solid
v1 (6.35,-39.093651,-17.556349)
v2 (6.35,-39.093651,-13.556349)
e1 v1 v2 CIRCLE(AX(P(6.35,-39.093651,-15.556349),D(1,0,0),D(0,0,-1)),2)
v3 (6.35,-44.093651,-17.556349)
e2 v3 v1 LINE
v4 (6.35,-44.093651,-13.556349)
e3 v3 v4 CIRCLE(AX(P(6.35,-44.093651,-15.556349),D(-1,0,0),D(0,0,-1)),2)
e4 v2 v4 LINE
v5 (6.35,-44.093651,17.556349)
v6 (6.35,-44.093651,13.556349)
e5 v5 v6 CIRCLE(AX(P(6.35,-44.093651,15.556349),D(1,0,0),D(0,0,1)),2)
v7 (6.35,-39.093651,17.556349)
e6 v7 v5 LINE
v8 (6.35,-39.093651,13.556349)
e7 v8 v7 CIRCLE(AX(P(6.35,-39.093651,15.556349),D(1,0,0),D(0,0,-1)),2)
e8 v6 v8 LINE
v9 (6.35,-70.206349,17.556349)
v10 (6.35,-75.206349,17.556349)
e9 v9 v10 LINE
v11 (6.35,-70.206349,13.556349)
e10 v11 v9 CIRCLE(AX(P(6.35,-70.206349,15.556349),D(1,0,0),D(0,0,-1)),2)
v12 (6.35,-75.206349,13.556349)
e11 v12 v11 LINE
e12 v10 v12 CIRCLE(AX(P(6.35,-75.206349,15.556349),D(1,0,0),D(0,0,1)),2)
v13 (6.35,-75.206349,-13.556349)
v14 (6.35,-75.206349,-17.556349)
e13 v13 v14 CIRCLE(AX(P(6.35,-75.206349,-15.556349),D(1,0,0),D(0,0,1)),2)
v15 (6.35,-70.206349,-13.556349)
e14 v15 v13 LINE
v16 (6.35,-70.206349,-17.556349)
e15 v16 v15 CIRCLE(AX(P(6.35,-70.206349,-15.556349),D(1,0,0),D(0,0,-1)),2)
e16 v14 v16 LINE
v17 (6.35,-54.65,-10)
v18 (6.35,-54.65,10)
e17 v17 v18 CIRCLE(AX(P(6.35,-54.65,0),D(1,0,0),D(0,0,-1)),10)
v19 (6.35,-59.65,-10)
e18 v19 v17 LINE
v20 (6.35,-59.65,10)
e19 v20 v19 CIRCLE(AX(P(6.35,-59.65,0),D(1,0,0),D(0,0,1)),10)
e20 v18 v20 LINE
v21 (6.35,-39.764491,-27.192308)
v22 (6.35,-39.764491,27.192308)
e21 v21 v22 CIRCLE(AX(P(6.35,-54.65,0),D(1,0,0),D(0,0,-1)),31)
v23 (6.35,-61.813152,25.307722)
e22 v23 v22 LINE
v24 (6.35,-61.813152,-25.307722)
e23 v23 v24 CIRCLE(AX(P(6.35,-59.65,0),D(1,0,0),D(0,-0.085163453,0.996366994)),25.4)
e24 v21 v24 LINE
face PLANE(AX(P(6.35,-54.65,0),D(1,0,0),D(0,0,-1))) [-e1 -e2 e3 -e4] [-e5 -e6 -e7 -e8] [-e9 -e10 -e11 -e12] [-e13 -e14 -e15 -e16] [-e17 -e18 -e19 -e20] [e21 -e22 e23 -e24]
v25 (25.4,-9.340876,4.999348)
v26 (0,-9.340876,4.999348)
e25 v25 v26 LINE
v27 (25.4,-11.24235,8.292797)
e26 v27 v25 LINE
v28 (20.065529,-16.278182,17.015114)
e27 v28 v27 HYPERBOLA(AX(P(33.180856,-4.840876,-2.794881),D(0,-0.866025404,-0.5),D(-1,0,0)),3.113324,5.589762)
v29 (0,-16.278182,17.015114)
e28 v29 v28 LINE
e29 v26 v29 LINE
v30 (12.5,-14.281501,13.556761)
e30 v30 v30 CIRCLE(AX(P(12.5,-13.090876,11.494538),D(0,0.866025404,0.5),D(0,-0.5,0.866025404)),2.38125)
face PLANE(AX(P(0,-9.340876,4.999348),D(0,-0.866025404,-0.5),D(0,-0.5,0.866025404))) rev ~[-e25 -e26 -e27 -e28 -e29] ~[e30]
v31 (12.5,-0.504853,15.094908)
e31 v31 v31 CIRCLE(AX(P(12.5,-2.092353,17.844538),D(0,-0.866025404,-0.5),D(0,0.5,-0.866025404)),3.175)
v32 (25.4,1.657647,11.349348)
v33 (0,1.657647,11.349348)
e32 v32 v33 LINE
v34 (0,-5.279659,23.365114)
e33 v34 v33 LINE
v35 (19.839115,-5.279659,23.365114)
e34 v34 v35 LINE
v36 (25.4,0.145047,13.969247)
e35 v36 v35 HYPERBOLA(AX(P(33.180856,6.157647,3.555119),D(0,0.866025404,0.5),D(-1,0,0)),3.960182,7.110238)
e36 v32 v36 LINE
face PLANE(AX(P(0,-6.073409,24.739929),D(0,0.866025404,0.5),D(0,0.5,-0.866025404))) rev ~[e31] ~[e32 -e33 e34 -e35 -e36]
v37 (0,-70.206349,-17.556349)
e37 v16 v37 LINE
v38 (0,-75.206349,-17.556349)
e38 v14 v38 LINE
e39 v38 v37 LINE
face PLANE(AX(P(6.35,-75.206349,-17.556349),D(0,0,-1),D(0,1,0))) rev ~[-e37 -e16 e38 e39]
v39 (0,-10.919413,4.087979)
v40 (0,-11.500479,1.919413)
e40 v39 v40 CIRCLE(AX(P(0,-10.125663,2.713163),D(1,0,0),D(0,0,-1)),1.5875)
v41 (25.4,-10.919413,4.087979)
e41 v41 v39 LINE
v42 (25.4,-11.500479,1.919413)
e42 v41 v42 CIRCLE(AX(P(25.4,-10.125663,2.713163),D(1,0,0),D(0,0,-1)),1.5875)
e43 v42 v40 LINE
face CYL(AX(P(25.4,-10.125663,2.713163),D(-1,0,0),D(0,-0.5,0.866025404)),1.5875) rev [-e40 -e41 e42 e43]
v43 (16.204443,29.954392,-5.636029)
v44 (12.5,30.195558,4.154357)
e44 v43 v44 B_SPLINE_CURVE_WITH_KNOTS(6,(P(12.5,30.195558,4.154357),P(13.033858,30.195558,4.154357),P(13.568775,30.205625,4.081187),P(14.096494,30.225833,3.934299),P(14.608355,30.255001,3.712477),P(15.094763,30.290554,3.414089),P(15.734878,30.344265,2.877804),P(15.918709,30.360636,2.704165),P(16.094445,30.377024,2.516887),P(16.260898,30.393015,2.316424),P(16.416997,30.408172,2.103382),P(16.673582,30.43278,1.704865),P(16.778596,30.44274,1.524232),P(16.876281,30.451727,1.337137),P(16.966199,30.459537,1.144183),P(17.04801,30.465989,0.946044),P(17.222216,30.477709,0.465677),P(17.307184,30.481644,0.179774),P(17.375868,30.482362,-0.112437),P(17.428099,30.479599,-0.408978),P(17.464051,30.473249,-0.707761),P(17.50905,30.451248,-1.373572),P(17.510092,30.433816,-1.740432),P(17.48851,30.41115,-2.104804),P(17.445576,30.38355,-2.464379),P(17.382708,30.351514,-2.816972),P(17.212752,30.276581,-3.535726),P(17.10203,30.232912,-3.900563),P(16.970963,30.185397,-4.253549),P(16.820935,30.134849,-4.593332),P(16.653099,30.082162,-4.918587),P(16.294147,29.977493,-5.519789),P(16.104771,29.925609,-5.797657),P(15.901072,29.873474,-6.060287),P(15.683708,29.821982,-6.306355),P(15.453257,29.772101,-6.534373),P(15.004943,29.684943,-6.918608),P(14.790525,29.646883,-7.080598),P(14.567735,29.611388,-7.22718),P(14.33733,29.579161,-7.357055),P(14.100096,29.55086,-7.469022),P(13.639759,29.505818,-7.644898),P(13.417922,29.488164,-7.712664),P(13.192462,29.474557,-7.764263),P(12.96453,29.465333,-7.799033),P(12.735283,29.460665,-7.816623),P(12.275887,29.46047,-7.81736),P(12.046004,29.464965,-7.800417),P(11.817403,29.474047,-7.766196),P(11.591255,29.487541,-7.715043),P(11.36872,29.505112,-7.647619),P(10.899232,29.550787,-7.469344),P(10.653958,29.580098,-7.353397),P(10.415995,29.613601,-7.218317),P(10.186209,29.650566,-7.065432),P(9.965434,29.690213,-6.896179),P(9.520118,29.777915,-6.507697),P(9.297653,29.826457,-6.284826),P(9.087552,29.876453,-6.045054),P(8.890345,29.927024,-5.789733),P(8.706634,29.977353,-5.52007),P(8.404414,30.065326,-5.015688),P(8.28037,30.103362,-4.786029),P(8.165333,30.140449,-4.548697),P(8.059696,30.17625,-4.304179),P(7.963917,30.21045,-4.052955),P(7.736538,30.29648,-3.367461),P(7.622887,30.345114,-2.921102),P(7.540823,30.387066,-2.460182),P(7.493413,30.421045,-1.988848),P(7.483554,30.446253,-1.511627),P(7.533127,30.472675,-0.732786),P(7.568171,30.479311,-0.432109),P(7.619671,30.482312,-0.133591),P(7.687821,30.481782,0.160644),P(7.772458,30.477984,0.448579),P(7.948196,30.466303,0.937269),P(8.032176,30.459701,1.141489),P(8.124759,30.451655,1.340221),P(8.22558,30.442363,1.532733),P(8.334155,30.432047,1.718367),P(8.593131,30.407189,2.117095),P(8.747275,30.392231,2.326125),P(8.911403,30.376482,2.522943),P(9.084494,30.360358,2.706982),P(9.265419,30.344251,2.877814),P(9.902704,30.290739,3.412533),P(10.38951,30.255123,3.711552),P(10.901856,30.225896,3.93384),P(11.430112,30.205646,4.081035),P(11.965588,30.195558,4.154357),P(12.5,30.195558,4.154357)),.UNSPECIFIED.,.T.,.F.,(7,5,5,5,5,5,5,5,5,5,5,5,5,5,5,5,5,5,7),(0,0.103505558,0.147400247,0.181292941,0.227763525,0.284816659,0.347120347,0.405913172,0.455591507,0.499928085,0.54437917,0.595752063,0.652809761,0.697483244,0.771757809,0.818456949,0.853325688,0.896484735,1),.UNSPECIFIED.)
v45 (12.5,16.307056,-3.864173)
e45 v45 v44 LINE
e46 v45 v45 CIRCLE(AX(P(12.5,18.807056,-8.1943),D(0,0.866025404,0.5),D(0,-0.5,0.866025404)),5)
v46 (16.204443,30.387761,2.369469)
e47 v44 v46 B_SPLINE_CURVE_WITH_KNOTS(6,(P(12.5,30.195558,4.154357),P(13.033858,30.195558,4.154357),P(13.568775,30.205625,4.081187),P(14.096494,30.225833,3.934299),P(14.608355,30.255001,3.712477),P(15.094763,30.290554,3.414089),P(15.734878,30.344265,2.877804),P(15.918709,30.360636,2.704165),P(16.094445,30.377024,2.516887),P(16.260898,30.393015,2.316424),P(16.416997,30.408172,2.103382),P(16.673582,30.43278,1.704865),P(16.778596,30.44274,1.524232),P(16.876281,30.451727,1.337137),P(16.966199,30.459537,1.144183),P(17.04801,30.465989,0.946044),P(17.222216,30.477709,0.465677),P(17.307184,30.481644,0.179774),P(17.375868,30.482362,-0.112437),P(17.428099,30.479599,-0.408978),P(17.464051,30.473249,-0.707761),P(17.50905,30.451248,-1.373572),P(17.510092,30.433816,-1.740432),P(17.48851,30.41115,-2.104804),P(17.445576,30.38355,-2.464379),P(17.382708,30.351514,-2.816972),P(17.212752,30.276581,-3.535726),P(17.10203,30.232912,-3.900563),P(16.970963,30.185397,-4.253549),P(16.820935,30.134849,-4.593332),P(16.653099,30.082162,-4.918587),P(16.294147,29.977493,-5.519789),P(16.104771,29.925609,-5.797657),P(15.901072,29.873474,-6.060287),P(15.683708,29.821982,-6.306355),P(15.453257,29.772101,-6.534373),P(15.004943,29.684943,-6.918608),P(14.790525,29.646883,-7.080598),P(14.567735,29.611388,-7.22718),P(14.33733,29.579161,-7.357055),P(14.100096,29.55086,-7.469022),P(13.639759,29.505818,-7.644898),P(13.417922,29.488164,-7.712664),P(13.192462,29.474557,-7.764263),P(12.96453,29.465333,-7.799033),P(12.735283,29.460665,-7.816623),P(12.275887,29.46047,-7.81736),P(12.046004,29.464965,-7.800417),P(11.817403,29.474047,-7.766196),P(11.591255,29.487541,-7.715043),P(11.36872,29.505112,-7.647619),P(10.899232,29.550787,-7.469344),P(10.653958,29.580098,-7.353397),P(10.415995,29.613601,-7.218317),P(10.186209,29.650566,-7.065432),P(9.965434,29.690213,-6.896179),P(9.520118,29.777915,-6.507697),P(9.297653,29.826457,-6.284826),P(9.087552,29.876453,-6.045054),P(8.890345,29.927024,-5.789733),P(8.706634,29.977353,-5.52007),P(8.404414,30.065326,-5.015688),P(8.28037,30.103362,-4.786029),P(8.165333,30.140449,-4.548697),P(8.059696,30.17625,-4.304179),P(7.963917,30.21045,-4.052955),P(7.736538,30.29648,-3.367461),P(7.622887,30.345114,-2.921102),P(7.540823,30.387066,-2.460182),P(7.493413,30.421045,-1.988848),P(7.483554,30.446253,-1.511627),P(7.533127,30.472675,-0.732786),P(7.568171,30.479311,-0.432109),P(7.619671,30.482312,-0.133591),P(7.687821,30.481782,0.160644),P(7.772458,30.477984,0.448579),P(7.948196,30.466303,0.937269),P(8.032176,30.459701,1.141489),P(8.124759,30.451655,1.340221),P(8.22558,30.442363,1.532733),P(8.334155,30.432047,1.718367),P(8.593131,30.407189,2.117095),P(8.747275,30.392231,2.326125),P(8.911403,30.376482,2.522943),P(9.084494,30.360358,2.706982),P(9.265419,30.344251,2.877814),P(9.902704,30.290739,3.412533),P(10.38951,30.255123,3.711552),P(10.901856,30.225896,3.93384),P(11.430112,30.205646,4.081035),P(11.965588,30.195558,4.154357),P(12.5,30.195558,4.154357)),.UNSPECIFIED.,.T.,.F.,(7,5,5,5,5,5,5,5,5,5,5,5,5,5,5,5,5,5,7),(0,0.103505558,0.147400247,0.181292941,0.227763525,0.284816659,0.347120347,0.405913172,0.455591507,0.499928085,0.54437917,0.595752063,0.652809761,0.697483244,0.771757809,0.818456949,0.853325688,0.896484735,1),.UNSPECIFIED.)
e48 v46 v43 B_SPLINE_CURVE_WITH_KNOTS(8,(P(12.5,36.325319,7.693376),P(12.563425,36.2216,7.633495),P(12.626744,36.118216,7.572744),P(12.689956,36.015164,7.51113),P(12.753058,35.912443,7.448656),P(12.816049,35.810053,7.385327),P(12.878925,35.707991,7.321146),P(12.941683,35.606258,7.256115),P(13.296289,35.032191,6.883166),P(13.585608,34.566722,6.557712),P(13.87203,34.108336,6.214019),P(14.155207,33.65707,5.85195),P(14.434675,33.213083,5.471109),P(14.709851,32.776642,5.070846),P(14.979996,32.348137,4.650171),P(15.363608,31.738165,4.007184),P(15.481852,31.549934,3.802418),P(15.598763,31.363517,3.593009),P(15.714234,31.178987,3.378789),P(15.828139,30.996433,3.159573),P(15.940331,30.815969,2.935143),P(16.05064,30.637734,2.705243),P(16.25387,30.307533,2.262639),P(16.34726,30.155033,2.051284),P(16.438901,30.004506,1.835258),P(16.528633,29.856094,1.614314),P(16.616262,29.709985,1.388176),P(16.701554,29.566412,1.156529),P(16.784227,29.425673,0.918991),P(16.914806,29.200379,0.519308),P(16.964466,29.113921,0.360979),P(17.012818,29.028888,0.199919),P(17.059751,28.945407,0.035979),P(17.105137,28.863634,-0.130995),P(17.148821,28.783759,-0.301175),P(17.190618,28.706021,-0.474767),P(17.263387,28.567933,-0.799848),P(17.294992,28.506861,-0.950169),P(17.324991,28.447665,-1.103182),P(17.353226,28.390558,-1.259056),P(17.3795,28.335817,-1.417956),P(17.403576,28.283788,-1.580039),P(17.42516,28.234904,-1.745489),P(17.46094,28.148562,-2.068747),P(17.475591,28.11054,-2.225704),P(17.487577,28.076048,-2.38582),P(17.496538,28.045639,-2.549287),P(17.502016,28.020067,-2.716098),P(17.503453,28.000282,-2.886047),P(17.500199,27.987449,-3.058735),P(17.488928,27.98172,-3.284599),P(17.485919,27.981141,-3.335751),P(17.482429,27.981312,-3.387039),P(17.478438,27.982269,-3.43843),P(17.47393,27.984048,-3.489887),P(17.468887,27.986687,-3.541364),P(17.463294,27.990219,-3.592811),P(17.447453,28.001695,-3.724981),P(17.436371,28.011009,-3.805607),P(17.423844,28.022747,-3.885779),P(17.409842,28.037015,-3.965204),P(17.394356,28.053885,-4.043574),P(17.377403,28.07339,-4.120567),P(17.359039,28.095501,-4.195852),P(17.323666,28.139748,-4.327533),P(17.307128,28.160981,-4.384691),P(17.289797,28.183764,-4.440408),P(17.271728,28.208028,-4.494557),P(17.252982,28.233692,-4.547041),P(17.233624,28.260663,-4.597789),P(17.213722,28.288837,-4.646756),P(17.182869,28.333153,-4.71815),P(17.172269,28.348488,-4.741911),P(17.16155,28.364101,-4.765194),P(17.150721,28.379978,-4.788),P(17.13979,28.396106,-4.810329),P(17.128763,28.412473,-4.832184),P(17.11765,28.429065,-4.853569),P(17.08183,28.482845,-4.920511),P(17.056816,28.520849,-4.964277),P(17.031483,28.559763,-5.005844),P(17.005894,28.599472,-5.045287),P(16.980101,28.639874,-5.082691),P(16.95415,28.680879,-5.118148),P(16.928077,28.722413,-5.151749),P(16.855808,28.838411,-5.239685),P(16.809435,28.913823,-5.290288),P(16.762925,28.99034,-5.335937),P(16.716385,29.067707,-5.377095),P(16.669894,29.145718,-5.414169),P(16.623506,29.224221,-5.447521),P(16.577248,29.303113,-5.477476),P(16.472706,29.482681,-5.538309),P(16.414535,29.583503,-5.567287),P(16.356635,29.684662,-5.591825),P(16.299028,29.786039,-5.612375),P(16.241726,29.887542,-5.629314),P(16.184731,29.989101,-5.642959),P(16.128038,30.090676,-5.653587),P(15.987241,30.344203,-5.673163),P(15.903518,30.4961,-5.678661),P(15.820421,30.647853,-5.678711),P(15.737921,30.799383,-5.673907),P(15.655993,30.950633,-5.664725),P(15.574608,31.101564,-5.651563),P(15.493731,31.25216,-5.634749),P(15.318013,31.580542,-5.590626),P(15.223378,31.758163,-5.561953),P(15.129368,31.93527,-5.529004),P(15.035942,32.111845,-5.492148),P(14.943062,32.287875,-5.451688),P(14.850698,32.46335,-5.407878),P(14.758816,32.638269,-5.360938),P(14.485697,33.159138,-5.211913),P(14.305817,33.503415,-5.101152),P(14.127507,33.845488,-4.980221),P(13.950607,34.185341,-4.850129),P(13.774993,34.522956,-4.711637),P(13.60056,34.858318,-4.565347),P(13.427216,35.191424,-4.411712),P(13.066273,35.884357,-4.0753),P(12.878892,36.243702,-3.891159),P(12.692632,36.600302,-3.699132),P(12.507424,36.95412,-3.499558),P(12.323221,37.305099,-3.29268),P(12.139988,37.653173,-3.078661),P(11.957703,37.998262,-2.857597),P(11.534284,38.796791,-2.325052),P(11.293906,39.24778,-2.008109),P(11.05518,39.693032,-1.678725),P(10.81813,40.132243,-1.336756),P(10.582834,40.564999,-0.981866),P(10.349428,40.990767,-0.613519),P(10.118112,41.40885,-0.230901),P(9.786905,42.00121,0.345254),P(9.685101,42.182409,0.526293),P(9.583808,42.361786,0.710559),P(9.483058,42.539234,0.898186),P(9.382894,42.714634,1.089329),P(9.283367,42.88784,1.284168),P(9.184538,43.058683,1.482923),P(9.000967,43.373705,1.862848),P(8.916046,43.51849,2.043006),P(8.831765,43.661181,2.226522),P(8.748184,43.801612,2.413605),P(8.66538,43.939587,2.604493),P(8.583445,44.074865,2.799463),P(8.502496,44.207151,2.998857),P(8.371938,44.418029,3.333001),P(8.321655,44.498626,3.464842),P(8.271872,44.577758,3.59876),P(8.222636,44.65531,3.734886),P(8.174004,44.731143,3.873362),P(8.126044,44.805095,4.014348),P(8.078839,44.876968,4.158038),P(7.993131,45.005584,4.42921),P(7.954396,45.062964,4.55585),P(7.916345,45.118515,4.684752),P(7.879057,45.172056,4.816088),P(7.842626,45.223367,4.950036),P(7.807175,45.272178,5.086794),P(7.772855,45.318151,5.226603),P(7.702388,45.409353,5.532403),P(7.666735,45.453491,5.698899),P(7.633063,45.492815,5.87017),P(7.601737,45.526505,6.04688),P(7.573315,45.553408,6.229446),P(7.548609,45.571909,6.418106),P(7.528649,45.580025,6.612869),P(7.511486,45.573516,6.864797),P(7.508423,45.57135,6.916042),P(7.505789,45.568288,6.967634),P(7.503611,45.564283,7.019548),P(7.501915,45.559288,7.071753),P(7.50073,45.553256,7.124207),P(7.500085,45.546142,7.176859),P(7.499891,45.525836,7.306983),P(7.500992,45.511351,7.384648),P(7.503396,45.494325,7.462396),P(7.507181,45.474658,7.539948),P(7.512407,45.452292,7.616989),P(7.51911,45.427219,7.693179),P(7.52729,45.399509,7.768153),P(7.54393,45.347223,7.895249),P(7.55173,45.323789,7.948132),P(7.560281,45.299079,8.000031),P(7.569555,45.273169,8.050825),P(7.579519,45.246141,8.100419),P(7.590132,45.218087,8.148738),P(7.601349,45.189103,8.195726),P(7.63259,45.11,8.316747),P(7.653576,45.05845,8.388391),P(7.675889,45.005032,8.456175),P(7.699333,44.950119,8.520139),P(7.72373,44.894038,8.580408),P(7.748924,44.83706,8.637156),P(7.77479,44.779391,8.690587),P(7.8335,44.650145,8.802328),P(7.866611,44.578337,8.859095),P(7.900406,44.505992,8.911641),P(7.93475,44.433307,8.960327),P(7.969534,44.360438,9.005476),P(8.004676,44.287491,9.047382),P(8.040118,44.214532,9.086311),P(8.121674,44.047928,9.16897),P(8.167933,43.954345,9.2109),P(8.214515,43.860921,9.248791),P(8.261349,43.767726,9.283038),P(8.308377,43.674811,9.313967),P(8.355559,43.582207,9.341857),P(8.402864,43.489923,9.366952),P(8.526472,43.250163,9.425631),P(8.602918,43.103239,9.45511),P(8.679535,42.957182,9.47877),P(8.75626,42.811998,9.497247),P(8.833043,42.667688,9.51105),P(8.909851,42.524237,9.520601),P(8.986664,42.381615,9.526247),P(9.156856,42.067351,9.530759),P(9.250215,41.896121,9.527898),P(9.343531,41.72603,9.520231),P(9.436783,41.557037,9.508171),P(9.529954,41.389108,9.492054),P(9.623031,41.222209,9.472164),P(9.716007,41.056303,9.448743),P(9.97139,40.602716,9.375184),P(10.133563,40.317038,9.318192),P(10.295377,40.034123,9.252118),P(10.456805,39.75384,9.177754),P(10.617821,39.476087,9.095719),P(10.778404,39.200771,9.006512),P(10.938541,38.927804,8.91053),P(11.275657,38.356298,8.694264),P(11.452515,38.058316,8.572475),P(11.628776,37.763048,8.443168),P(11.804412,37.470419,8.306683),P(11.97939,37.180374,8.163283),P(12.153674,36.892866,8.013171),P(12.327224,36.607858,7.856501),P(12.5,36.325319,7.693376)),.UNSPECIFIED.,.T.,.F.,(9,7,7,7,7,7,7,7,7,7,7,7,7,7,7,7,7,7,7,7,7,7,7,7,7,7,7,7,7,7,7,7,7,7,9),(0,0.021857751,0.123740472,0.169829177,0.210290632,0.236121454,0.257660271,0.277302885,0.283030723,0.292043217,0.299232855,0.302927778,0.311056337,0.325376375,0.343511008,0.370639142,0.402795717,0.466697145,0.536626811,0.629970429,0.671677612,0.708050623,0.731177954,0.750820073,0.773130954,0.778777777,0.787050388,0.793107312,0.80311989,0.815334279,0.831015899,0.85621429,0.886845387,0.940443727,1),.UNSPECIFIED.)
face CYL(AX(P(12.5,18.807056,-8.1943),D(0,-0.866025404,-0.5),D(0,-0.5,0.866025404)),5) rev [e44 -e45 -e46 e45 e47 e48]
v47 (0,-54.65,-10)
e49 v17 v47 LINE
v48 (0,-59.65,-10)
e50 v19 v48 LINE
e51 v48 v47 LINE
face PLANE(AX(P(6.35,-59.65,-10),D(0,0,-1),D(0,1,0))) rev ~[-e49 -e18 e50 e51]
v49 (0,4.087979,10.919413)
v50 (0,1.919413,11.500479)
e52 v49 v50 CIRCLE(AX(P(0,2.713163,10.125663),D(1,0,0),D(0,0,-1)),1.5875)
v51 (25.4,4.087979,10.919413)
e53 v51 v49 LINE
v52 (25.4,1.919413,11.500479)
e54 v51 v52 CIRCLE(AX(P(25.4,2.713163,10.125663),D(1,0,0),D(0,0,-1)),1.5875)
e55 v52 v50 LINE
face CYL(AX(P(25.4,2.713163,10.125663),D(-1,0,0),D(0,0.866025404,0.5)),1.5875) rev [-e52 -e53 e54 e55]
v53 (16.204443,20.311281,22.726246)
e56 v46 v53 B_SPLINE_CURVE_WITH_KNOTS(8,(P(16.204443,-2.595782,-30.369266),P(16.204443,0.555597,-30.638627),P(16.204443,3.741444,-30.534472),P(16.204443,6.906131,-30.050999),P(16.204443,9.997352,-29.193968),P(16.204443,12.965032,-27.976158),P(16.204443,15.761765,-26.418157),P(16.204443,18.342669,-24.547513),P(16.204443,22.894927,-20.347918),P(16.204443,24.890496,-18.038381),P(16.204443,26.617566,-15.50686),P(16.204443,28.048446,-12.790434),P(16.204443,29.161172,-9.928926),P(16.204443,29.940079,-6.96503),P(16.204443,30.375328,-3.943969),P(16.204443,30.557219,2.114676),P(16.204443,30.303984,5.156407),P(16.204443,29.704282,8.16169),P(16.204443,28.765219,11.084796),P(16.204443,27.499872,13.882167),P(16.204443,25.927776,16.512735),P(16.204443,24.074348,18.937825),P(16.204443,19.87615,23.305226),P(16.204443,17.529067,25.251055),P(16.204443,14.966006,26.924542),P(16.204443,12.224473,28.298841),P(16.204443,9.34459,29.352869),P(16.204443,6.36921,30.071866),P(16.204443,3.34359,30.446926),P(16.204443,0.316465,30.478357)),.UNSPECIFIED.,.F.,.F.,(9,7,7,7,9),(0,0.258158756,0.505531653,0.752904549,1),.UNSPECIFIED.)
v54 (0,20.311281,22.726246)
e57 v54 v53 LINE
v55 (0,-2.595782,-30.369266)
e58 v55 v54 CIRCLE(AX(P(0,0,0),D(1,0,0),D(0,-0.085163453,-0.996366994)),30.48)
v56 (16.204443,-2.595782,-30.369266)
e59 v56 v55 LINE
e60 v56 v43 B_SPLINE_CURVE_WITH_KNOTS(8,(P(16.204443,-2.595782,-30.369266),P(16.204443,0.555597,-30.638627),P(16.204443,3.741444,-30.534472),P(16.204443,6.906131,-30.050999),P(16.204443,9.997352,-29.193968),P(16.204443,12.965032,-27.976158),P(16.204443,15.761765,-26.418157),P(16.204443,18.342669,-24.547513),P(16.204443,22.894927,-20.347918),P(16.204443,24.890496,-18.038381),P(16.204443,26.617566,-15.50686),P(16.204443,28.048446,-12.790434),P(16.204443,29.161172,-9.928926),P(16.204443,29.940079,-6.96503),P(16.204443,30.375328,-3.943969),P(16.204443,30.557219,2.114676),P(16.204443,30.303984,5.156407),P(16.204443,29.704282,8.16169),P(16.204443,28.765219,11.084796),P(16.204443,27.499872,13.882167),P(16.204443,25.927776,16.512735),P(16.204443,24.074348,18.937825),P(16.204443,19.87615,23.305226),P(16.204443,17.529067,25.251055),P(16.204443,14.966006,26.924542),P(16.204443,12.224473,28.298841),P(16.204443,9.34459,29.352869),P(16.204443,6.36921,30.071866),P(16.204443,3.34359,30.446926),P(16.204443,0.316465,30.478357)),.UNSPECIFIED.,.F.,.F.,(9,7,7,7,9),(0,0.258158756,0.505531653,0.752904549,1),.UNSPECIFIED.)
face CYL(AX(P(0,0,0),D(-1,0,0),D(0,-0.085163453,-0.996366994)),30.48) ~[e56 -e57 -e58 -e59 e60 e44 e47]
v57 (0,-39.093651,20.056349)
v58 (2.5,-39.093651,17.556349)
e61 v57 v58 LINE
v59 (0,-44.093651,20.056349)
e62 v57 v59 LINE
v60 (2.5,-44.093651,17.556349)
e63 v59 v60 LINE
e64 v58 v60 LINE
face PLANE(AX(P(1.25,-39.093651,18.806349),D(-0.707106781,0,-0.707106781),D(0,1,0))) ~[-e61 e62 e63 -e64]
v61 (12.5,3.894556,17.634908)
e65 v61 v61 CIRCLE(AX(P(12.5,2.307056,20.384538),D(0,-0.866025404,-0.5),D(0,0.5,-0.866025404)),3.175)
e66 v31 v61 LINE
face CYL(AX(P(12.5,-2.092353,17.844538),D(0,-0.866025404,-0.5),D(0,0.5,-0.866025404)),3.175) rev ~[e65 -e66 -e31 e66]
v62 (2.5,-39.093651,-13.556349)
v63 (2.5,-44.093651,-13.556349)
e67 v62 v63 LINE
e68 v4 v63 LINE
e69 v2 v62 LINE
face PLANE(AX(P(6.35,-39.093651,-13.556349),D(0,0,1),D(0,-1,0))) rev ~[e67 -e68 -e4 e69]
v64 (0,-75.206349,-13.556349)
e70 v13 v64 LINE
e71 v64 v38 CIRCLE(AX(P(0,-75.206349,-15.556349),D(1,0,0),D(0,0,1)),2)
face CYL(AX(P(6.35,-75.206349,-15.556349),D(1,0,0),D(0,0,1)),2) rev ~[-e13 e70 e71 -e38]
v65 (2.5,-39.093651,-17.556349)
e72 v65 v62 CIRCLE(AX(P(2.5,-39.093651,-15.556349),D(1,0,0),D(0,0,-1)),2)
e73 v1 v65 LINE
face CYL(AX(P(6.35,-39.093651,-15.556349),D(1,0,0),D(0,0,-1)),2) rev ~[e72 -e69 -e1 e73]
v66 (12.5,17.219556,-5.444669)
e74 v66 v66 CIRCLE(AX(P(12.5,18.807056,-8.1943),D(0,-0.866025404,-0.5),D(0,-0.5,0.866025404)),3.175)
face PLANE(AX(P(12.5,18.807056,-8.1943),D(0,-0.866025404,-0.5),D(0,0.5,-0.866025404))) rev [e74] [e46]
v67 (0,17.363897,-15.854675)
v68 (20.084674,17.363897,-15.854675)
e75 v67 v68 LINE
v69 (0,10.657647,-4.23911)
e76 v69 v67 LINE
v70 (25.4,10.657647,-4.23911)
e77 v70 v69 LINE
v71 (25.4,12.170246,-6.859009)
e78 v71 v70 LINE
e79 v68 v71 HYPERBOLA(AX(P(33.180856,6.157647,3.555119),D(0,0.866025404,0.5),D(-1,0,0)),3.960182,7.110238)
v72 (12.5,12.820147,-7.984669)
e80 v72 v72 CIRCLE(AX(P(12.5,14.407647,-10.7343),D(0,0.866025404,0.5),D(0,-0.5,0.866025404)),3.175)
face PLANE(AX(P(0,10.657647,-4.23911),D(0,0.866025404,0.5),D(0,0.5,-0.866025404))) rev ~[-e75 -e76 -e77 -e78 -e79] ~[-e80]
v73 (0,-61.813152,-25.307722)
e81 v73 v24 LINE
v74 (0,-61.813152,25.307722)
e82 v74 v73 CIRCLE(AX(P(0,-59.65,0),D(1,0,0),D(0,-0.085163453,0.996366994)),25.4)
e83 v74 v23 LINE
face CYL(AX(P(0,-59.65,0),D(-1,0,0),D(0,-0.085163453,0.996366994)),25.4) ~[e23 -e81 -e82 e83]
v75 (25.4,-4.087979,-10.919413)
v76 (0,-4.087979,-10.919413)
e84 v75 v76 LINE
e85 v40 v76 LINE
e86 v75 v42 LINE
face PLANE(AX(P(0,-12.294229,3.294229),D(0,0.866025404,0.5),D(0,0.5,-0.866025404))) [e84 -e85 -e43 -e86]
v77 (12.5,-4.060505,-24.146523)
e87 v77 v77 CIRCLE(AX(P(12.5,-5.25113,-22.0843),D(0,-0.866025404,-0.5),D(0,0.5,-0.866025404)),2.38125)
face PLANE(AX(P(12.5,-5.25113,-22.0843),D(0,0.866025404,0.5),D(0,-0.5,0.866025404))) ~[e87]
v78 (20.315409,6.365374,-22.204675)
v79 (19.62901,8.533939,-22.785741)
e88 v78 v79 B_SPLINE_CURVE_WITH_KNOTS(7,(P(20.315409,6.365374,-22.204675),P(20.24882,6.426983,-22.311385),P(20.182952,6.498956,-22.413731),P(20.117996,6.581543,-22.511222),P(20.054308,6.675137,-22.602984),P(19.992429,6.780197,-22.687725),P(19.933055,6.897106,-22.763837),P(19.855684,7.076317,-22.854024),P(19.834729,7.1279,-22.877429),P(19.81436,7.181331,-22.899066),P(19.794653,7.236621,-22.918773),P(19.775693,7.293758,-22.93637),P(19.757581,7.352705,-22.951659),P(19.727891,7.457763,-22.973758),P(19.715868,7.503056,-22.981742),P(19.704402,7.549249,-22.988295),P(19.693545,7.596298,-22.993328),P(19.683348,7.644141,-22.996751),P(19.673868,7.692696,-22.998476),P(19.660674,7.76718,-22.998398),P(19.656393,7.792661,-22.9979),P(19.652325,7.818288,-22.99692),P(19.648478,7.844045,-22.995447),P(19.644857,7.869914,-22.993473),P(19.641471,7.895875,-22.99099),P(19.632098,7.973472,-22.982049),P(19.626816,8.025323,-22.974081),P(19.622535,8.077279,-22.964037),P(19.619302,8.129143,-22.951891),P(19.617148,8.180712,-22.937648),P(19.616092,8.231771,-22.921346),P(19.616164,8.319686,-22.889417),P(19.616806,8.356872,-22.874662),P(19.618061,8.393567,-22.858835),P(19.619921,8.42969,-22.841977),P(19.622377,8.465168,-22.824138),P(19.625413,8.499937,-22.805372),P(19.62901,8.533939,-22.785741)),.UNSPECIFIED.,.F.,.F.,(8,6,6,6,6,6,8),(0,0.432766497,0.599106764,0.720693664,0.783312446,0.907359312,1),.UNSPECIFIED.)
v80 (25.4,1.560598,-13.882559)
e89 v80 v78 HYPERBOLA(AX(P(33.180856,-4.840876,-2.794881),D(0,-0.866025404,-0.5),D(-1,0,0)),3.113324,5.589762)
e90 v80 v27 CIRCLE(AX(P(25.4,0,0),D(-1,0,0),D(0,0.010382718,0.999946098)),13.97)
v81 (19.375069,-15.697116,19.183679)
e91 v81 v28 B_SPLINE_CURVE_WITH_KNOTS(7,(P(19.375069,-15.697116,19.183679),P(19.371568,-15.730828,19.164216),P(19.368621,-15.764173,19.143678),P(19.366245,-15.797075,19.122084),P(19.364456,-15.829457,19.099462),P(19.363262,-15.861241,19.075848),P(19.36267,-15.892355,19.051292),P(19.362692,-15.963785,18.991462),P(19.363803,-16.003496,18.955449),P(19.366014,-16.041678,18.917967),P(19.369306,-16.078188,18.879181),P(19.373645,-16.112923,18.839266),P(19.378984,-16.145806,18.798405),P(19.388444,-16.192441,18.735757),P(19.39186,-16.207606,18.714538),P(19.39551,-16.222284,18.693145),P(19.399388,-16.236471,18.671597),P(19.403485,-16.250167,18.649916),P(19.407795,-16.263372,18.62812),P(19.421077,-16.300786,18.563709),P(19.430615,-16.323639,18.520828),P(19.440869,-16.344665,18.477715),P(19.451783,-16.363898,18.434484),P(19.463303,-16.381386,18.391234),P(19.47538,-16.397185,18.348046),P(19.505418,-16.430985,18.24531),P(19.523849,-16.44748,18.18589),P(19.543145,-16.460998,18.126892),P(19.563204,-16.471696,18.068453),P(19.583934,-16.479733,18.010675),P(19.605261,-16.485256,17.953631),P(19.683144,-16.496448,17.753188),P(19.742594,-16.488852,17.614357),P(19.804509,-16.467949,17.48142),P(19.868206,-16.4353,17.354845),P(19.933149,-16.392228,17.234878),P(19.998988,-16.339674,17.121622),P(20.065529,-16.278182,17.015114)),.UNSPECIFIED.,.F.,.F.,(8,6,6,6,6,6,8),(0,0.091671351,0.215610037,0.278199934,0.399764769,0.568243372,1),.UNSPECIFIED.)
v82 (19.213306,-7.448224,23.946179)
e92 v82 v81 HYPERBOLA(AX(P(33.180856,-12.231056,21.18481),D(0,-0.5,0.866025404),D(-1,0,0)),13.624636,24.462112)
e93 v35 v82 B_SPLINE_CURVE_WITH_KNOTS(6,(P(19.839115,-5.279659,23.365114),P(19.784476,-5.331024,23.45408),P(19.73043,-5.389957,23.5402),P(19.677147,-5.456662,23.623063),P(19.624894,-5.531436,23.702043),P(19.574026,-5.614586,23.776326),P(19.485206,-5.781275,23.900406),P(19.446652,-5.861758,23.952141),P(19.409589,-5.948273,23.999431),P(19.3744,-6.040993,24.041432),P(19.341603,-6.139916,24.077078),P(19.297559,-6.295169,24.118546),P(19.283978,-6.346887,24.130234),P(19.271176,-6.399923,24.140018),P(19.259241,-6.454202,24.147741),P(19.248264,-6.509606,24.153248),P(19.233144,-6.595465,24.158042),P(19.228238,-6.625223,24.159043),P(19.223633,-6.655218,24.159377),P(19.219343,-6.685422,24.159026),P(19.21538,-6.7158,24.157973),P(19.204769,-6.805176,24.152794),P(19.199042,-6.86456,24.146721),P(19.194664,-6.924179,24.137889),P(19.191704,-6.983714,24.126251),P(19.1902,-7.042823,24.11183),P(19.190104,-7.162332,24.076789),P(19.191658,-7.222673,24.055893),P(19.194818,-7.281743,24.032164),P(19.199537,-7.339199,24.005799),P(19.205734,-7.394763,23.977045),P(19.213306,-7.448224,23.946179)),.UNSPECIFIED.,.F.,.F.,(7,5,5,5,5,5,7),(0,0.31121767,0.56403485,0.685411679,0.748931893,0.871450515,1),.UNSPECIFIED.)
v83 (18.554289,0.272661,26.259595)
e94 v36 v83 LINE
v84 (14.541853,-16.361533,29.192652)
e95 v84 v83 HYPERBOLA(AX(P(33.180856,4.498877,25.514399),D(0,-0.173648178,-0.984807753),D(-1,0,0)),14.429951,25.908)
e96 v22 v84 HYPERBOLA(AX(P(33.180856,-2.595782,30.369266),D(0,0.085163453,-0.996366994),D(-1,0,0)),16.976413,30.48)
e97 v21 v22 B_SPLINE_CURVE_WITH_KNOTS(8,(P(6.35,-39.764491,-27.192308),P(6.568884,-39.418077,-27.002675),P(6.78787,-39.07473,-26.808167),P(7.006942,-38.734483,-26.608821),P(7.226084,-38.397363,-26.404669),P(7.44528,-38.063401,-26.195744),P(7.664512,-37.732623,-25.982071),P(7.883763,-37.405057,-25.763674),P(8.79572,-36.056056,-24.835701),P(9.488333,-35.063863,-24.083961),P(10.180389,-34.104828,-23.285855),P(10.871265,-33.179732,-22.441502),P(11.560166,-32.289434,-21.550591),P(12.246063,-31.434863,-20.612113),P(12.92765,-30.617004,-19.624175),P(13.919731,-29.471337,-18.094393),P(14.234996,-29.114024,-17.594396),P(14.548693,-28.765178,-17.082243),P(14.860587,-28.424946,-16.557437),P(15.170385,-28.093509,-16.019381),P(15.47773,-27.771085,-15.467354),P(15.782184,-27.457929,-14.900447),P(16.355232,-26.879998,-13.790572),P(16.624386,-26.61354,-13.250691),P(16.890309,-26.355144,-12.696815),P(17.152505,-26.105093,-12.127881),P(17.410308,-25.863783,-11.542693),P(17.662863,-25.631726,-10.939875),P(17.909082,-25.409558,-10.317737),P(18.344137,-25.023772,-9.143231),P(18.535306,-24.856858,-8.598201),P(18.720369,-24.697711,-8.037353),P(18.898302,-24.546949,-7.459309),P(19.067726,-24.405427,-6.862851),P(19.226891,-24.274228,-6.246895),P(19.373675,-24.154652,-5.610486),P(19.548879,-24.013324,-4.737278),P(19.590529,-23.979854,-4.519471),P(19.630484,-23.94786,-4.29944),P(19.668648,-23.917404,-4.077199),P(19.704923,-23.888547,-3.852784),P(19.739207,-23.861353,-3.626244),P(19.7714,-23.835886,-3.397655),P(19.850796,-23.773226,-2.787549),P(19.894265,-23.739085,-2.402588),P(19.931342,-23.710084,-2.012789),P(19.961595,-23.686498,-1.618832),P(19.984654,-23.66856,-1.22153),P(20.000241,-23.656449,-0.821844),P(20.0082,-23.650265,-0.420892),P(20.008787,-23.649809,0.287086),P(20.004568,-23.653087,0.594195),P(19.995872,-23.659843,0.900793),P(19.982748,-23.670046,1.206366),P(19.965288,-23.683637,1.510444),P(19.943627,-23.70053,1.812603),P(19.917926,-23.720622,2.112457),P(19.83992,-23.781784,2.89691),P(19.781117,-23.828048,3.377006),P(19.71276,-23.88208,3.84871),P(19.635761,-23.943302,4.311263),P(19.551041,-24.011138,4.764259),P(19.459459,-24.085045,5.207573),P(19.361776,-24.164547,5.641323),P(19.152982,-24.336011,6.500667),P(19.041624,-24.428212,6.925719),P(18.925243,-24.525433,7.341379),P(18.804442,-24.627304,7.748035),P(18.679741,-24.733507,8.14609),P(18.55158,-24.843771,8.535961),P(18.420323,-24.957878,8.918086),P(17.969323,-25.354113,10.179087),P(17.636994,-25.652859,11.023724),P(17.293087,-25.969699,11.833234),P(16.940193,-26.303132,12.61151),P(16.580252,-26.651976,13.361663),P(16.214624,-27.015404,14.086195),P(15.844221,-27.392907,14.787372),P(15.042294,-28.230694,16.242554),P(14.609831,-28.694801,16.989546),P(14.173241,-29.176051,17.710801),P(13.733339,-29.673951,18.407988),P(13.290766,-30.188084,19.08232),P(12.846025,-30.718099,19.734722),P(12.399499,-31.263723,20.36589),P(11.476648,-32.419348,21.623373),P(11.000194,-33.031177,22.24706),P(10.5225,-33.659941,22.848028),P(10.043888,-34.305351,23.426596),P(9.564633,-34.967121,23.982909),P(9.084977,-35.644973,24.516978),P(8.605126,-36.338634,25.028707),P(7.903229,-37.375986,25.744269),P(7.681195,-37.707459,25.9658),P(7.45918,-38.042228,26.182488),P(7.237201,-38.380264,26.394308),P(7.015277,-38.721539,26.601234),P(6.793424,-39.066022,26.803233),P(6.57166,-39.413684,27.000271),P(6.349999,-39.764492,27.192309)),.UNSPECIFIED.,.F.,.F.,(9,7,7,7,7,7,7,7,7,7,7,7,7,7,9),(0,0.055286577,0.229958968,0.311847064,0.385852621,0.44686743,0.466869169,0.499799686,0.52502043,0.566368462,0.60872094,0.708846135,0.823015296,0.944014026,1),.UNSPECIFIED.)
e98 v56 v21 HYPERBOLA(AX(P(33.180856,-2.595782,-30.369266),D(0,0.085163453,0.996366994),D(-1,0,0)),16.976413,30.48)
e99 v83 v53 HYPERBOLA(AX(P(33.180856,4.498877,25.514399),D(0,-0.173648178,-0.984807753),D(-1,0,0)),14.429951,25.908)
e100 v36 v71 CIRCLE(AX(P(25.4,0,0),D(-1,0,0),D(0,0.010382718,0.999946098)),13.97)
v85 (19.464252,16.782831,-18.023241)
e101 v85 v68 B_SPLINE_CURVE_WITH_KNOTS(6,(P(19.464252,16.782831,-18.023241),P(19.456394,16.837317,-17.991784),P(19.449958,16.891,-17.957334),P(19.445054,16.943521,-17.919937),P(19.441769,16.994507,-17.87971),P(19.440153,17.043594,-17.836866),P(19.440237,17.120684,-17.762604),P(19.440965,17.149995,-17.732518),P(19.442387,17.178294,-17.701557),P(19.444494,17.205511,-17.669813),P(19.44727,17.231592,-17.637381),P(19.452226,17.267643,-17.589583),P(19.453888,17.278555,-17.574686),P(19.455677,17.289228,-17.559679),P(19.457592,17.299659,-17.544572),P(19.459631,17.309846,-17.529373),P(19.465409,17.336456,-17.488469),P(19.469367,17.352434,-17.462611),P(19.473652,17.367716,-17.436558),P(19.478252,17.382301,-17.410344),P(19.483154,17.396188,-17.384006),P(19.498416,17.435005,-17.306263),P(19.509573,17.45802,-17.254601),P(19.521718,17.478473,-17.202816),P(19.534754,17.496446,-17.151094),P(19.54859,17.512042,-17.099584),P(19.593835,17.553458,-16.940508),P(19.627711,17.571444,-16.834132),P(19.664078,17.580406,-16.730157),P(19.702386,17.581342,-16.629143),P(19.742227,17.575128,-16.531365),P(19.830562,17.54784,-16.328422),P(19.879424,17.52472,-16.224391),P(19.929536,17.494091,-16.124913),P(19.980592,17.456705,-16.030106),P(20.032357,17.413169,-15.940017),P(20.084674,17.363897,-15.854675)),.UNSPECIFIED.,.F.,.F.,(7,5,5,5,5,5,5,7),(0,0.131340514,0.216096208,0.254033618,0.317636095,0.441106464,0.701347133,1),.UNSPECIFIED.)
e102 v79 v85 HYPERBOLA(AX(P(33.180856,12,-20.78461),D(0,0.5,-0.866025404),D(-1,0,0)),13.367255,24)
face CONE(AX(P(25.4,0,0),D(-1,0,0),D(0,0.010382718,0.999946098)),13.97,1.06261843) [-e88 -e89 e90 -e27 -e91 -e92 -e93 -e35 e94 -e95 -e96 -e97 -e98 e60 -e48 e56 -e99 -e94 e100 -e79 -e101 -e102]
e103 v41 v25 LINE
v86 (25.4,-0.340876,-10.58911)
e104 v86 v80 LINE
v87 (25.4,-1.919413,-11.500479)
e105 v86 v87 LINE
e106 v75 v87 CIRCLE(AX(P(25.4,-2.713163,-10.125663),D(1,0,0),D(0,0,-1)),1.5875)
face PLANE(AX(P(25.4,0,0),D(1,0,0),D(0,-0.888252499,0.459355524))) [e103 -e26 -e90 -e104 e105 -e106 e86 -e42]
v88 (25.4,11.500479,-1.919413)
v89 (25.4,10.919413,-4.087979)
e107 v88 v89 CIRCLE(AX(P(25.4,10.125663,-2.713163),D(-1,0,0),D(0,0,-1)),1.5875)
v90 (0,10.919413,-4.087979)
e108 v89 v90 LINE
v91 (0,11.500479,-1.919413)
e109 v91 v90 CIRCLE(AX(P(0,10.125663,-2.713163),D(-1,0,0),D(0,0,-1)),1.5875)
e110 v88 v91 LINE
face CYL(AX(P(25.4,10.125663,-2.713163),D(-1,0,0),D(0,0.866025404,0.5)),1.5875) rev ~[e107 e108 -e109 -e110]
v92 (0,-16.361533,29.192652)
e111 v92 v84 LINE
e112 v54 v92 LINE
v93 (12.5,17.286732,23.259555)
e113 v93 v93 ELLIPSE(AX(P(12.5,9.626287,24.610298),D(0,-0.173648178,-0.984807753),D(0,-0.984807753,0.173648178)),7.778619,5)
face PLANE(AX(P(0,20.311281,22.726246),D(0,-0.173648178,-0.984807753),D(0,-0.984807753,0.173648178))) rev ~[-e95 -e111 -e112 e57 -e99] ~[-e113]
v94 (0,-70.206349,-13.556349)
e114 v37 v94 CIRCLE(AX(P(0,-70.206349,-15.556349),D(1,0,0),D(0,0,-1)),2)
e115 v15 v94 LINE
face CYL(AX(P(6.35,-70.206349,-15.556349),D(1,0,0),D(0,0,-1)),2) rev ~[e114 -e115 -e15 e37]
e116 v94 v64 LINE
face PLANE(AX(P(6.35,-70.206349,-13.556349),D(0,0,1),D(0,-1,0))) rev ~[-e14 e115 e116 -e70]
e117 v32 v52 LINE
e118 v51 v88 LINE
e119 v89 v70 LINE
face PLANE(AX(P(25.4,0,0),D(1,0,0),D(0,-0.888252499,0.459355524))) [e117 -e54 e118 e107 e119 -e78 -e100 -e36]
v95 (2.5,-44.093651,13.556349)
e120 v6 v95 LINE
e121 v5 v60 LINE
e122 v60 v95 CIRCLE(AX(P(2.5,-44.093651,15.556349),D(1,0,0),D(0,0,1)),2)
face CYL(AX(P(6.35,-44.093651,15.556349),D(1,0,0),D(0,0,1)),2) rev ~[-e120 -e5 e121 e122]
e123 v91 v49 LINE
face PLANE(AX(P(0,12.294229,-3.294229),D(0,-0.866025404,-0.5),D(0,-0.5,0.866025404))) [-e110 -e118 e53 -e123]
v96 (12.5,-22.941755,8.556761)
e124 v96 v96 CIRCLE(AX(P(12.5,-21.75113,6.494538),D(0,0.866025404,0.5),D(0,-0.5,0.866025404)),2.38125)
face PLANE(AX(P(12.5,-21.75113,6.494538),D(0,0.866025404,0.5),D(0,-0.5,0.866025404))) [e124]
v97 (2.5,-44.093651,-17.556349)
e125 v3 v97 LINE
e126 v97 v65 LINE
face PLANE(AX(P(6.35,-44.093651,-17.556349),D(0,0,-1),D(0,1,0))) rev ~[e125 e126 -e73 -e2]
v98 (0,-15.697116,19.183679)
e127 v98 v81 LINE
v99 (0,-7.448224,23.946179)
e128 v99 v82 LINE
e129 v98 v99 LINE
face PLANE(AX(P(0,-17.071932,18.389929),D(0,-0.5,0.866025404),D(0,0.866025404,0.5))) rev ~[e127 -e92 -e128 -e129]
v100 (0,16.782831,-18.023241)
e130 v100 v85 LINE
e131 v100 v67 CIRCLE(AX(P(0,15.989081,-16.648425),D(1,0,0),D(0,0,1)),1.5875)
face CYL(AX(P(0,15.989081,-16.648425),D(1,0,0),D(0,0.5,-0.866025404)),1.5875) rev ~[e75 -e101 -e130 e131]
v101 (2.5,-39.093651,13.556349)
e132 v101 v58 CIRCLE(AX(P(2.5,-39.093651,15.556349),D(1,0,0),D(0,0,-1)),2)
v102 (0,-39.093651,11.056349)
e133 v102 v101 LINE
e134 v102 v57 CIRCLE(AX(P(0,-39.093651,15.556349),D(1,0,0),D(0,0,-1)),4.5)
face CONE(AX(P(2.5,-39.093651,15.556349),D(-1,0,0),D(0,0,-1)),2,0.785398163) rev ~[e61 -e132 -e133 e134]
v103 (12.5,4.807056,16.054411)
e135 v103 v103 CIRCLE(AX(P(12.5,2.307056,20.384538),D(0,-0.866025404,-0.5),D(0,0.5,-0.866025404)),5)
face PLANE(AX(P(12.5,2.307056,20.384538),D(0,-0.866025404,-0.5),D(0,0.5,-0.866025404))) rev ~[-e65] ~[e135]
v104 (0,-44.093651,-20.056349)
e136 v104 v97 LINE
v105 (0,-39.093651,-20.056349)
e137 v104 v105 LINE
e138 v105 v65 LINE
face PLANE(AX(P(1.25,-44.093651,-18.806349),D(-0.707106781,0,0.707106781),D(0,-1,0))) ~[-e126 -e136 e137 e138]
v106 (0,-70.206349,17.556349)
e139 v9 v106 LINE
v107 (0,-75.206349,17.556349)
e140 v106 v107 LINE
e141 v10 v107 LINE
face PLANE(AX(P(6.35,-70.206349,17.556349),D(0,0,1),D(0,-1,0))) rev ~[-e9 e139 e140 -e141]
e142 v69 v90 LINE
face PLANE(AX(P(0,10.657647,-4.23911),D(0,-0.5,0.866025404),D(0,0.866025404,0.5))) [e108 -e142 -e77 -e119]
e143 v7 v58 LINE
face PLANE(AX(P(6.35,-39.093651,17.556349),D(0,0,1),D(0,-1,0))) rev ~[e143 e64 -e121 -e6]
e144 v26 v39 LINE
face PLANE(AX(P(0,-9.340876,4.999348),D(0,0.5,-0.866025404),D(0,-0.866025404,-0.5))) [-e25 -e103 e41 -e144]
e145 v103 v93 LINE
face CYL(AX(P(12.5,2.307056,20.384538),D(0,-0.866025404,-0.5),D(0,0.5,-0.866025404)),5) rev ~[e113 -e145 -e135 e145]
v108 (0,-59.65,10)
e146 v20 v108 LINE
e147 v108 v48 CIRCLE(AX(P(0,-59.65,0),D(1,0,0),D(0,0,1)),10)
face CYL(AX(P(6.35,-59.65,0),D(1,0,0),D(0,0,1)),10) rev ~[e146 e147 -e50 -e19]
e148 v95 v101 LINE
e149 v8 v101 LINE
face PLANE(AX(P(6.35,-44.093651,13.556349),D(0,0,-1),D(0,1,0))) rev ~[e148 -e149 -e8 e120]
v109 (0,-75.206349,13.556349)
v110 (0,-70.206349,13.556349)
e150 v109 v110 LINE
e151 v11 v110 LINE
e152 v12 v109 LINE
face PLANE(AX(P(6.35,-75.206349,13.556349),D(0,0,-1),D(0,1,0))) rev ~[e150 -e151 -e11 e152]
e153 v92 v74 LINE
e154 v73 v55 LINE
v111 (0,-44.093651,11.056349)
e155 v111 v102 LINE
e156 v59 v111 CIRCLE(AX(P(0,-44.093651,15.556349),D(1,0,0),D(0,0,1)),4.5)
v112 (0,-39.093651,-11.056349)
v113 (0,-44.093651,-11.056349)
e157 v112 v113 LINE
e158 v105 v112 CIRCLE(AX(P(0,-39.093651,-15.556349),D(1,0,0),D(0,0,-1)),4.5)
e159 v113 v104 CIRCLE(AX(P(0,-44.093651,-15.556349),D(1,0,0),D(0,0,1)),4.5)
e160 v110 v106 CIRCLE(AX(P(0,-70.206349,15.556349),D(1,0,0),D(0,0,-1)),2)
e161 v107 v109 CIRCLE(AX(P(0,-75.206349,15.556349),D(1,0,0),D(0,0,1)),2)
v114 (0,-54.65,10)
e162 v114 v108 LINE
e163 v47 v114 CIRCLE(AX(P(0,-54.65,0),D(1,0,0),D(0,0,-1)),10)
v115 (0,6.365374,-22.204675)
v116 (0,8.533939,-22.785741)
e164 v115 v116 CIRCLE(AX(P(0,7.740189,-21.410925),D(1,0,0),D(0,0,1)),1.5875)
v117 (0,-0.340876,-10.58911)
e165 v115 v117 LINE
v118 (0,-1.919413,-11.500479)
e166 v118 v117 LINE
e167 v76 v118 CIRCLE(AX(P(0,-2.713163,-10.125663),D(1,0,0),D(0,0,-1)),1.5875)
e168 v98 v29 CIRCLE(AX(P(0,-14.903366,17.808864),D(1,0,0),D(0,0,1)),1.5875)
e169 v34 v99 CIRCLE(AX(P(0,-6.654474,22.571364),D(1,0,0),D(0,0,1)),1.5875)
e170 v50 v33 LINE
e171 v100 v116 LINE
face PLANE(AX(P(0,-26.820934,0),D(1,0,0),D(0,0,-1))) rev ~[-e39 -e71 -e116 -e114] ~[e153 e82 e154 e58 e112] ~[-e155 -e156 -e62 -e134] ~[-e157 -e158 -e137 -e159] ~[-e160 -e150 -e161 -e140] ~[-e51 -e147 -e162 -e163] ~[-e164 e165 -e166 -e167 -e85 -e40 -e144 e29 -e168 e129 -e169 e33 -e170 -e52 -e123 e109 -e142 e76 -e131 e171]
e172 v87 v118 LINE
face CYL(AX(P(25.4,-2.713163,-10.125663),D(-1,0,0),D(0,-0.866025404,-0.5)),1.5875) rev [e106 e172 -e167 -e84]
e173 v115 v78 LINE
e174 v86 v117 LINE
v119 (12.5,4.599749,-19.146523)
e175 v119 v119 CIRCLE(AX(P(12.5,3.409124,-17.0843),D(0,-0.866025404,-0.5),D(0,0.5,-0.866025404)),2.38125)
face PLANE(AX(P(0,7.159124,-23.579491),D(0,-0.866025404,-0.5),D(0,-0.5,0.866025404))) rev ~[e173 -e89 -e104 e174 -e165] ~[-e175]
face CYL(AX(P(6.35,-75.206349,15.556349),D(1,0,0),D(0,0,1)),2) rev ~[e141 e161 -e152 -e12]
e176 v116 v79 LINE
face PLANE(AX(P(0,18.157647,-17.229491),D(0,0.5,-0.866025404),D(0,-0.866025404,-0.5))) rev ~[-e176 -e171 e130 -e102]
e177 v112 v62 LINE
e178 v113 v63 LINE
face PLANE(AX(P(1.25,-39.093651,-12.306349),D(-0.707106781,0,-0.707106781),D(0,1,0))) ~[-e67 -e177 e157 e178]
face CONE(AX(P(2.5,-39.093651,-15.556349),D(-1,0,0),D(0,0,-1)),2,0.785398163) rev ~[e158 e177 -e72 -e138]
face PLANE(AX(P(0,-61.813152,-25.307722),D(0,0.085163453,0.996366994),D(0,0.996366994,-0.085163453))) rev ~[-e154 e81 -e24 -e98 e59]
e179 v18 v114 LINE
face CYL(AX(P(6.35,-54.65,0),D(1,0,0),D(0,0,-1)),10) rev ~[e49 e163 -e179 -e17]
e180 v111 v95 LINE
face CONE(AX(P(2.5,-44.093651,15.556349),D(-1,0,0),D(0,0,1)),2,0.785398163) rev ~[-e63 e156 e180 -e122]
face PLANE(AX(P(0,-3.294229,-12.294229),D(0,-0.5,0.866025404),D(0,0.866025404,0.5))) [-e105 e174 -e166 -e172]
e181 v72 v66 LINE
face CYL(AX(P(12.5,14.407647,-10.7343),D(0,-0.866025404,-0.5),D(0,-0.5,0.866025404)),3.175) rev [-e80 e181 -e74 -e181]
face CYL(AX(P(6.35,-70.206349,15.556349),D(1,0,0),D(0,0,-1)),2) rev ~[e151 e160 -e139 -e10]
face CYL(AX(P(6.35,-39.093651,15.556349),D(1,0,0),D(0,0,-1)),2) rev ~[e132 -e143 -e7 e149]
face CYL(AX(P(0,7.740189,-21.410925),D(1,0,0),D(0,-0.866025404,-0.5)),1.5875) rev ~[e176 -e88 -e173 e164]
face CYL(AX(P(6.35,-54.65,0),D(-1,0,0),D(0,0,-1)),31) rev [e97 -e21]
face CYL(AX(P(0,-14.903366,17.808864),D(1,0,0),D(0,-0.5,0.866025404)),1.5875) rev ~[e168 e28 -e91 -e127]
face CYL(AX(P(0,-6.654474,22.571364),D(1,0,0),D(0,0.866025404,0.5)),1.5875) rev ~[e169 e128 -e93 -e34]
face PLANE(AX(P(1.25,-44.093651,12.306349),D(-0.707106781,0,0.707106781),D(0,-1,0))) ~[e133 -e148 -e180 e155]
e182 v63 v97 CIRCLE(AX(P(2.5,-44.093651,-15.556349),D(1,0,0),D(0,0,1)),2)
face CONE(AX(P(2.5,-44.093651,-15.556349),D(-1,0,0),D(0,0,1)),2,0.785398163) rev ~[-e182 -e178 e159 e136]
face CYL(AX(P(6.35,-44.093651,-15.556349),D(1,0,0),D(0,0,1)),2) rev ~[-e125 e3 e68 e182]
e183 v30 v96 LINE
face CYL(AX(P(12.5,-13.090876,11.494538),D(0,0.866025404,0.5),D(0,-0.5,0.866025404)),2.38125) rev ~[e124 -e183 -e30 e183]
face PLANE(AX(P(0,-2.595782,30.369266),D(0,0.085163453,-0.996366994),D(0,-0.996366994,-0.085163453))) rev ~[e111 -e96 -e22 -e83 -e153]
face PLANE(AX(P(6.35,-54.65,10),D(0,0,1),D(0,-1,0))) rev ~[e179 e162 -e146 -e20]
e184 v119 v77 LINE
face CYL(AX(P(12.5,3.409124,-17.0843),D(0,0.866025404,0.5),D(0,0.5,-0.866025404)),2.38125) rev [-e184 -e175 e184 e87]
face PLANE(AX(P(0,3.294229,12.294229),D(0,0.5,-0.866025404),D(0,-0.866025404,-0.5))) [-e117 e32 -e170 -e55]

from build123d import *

# Parameters (mm, degrees)
BOSS_EXTRUDE1_DEPTH = 6.35
CUT_EXTRUDE18_DEPTH = 10
SKETCH20_R          = 57.15
BOSS_EXTRUDE5_DEPTH = 19.05
CUT_EXTRUDE14_DEPTH = 106.568863781
SKETCH22_R          = 3.175
CUT_EXTRUDE15_DEPTH = 113.468245739
SKETCH24_R          = 5
CUT_EXTRUDE16_DEPTH = 118.41300701
SKETCH25_R          = 2.38125
CUT_EXTRUDE17_DEPTH = 10
CHAMFER2_SIZE       = 2.5
FILLET1_R           = 1.5875
SKETCH28_R          = 31
CUT_EXTRUDE19_DEPTH = 105.22344993
CUT_EXTRUDE20_DEPTH = 100.584343315
CUT_EXTRUDE21_DEPTH = 94.849309593


with BuildPart() as part:
    # Sketch1 → Boss-Extrude1 (new body)
    with BuildSketch(Plane(origin=(0, 0, 0), x_dir=(0, 0, -1), z_dir=(1, 0, 0))):
        with BuildLine():
            Line((-30.369265969, -2.595782062), (-25.307721641, -61.813151718))
            ThreePointArc((-25.307721641, -61.813151718), (0, -85.05), (25.307721641, -61.813151718))
            Line((25.307721641, -61.813151718), (30.369265969, -2.595782062))
            ThreePointArc((30.369265969, -2.595782062), (0, 30.48), (-30.369265969, -2.595782062))
        make_face()
        Polygon((3.294228634, 12.294228634), (-12.294228634, 3.294228634), (-3.294228634, -12.294228634), (12.294228634, -3.294228634), align=None, mode=Mode.SUBTRACT)
    extrude(amount=BOSS_EXTRUDE1_DEPTH)

    # Sketch19 → Cut-Extrude18 (cut)
    with BuildSketch(Plane(origin=(6.35, 0, 0), x_dir=(0, 0, -1), z_dir=(1, 0, 0))):
        with BuildLine():
            Line((13.556349186, -39.093650814), (13.556349186, -44.093650814))
            ThreePointArc((13.556349186, -44.093650814), (15.556349186, -46.093650814), (17.556349186, -44.093650814))
            Line((17.556349186, -44.093650814), (17.556349186, -39.093650814))
            ThreePointArc((17.556349186, -39.093650814), (15.556349186, -37.093650814), (13.556349186, -39.093650814))
        make_face()
        with BuildLine():
            Line((-10, -54.65), (-10, -59.65))
            ThreePointArc((-10, -59.65), (0, -69.65), (10, -59.65))
            Line((10, -59.65), (10, -54.65))
            ThreePointArc((10, -54.65), (0, -44.65), (-10, -54.65))
        make_face()
        with BuildLine():
            Line((17.556349186, -75.206349186), (17.556349186, -70.206349186))
            ThreePointArc((17.556349186, -70.206349186), (15.556349186, -68.206349186), (13.556349186, -70.206349186))
            Line((13.556349186, -70.206349186), (13.556349186, -75.206349186))
            ThreePointArc((13.556349186, -75.206349186), (15.556349186, -77.206349186), (17.556349186, -75.206349186))
        make_face()
        with BuildLine():
            Line((-17.556349186, -39.093650814), (-17.556349186, -44.093650814))
            ThreePointArc((-17.556349186, -44.093650814), (-15.556349186, -46.093650814), (-13.556349186, -44.093650814))
            Line((-13.556349186, -44.093650814), (-13.556349186, -39.093650814))
            ThreePointArc((-13.556349186, -39.093650814), (-15.556349186, -37.093650814), (-17.556349186, -39.093650814))
        make_face()
        with BuildLine():
            Line((-13.556349186, -75.206349186), (-13.556349186, -70.206349186))
            ThreePointArc((-13.556349186, -70.206349186), (-15.556349186, -68.206349186), (-17.556349186, -70.206349186))
            Line((-17.556349186, -70.206349186), (-17.556349186, -75.206349186))
            ThreePointArc((-17.556349186, -75.206349186), (-15.556349186, -77.206349186), (-13.556349186, -75.206349186))
        make_face()
    extrude(amount=-CUT_EXTRUDE18_DEPTH, mode=Mode.SUBTRACT)

    # Sketch20 → Boss-Extrude5 (add)
    with BuildSketch(Plane(origin=(6.35, 0, 0), x_dir=(0, 0, -1), z_dir=(1, 0, 0))):
        with Locations(Location((0, 0, 0), (0, 0, 242.654471511))):
            Circle(SKETCH20_R)
    extrude(amount=BOSS_EXTRUDE5_DEPTH)

    # Sketch21 → Cut-Extrude14 (cut, through all)
    with BuildSketch(Plane.ZY):
        Polygon((-17.229490682, 18.15764675), (-23.579490682, 7.159124122), (-10.589109625, -0.340875878), (-4.239109625, 10.65764675), align=None)
        Polygon((-12.294228634, -3.294228634), (-3.294228634, 12.294228634), (12.294228634, 3.294228634), (3.294228634, -12.294228634), align=None)
        Polygon((11.349347643, 1.65764675), (4.999347643, -9.340875878), (18.389929189, -17.071931738), (24.739929189, -6.07340911), align=None)
    extrude(amount=-CUT_EXTRUDE14_DEPTH, mode=Mode.SUBTRACT)

    # Sketch22 → Cut-Extrude15 (cut, through all)
    with BuildSketch(Plane(origin=(0, 6.15764675, 3.555119009), x_dir=(-1, 0, 0), z_dir=(0, -0.8660254037844379, -0.5000000000000013))):
        with Locations(Location((-12.5, -16.5, 0), (0, 0, 90))):
            Circle(SKETCH22_R)
    cut_extrude15 = extrude(amount=-CUT_EXTRUDE15_DEPTH, mode=Mode.SUBTRACT)

    # Sketch24 → Cut-Extrude16 (cut, through all)
    with BuildSketch(Plane(origin=(0, 10.557055801, 6.095119009), x_dir=(-1, 0, 0), z_dir=(0, -0.8660254037844379, -0.5000000000000013))):
        with Locations(Location((-12.5, -16.5, 0), (0, 0, 90))):
            Circle(SKETCH24_R)
    cut_extrude16 = extrude(amount=-CUT_EXTRUDE16_DEPTH, mode=Mode.SUBTRACT)

    # Sketch25 → Cut-Extrude17 (cut)
    with BuildSketch(Plane(origin=(0, -4.840875878, -2.794880991), x_dir=(1, 0, 0), z_dir=(0, 0.8660254037844382, 0.5000000000000011))):
        with Locations(Location((12.5, -16.5, 0), (0, 0, 270))):
            Circle(SKETCH25_R)
    cut_extrude17 = extrude(amount=-CUT_EXTRUDE17_DEPTH, mode=Mode.SUBTRACT)

    # Mirror1: Cut-Extrude15, Cut-Extrude16, Cut-Extrude17 across plane
    add(cut_extrude15.mirror(Plane(origin=(0, 0, 0), x_dir=(0, 0.8660254037844378, 0.5000000000000013), z_dir=(0, 0.5000000000000016, -0.8660254037844378))), mode=Mode.SUBTRACT)
    add(cut_extrude16.mirror(Plane(origin=(0, 0, 0), x_dir=(0, 0.8660254037844378, 0.5000000000000013), z_dir=(0, 0.5000000000000016, -0.8660254037844378))), mode=Mode.SUBTRACT)
    add(cut_extrude17.mirror(Plane(origin=(0, 0, 0), x_dir=(0, 0.8660254037844378, 0.5000000000000013), z_dir=(0, 0.5000000000000016, -0.8660254037844378))), mode=Mode.SUBTRACT)


with BuildPart() as body_2:
    # Mirror2: mirrored copy
    add(part.part.mirror(Plane(origin=(0, 0, 0), x_dir=(0, 0, 1), z_dir=(1, 0, 0))))


with BuildPart() as part_1:
    add(part.part)

    # Chamfer2
    chamfer2_edges = [part_1.edges().sort_by_distance(p)[0] for p in [
        (0, -41.593650814, 13.556349186),
        (0, -37.093650814, 15.556349186),
        (0, -41.593650814, 17.556349186),
        (0, -46.093650814, 15.556349186),
        (0, -41.593650814, -17.556349186),
        (0, -37.093650814, -15.556349186),
        (0, -41.593650814, -13.556349186),
        (0, -46.093650814, -15.556349186),
    ]]
    chamfer(chamfer2_edges, length=CHAMFER2_SIZE)

    # Fillet1
    fillet1_edges = [part_1.edges().sort_by_distance(p)[0] for p in [
        (12.7, 7.159124122, -23.579490682),
        (12.7, 18.15764675, -17.229490682),
        (12.7, -6.07340911, 24.739929189),
        (12.7, -17.071931738, 18.389929189),
        (12.7, 12.294228634, -3.294228634),
        (12.7, 3.294228634, 12.294228634),
        (12.7, -12.294228634, 3.294228634),
        (12.7, -3.294228634, -12.294228634),
    ]]
    fillet(fillet1_edges, radius=FILLET1_R)

    # Sketch28 → Cut-Extrude19 (cut, through all)
    with BuildSketch(Plane(origin=(6.35, 0, 0), x_dir=(0, 0, -1), z_dir=(1, 0, 0))):
        with Locations((0, -54.65)):
            Circle(SKETCH28_R)
    extrude(amount=CUT_EXTRUDE19_DEPTH, mode=Mode.SUBTRACT)

    # Sketch31 → Cut-Revolve1 (revolve, cut)
    with BuildSketch(Plane(origin=(0, 0, 0), x_dir=(1, 0, 0), z_dir=(0, 1, 0)), mode=Mode.PRIVATE) as cut_revolve1_sk:
        Polygon((6.35, -59.952108656), (25.4, -59.952108656), (25.4, -13.97), (6.35, -48.172984338), align=None)
    revolve(cut_revolve1_sk.sketch.rotate(Axis((25.4, 0, 0), (-1, 0, 0)), 0.594896632), axis=Axis((25.4, 0, 0), (-1, 0, 0)), mode=Mode.SUBTRACT)

    # Sketch32 → Cut-Extrude20 (cut, through all)
    with BuildSketch(Plane.ZY.offset(-6.35)):
        with BuildLine():
            Line((30.369265969, -2.595782062), (27.192308406, -39.764491491))
            ThreePointArc((27.192308406, -39.764491491), (0, 48.172984338), (-27.192308406, -39.764491491))
            Line((-27.192308406, -39.764491491), (-30.369265969, -2.595782062))
            ThreePointArc((-30.369265969, -2.595782062), (0, 30.48), (30.369265969, -2.595782062))
        make_face()
    extrude(amount=-CUT_EXTRUDE20_DEPTH, mode=Mode.SUBTRACT)

    # Sketch33 → Cut-Extrude21 (cut, through all)
    with BuildSketch(Plane.ZY):
        with BuildLine():
            Line((29.192652415, -16.361533231), (30.369265969, -2.595782062))
            ThreePointArc((30.369265969, -2.595782062), (28.913089259, 9.646951307), (22.726245723, 20.311281479))
            Line((22.726245723, 20.311281479), (29.192652415, -16.361533231))
        make_face()
    extrude(amount=-CUT_EXTRUDE21_DEPTH, mode=Mode.SUBTRACT)


solid = part_1.part
